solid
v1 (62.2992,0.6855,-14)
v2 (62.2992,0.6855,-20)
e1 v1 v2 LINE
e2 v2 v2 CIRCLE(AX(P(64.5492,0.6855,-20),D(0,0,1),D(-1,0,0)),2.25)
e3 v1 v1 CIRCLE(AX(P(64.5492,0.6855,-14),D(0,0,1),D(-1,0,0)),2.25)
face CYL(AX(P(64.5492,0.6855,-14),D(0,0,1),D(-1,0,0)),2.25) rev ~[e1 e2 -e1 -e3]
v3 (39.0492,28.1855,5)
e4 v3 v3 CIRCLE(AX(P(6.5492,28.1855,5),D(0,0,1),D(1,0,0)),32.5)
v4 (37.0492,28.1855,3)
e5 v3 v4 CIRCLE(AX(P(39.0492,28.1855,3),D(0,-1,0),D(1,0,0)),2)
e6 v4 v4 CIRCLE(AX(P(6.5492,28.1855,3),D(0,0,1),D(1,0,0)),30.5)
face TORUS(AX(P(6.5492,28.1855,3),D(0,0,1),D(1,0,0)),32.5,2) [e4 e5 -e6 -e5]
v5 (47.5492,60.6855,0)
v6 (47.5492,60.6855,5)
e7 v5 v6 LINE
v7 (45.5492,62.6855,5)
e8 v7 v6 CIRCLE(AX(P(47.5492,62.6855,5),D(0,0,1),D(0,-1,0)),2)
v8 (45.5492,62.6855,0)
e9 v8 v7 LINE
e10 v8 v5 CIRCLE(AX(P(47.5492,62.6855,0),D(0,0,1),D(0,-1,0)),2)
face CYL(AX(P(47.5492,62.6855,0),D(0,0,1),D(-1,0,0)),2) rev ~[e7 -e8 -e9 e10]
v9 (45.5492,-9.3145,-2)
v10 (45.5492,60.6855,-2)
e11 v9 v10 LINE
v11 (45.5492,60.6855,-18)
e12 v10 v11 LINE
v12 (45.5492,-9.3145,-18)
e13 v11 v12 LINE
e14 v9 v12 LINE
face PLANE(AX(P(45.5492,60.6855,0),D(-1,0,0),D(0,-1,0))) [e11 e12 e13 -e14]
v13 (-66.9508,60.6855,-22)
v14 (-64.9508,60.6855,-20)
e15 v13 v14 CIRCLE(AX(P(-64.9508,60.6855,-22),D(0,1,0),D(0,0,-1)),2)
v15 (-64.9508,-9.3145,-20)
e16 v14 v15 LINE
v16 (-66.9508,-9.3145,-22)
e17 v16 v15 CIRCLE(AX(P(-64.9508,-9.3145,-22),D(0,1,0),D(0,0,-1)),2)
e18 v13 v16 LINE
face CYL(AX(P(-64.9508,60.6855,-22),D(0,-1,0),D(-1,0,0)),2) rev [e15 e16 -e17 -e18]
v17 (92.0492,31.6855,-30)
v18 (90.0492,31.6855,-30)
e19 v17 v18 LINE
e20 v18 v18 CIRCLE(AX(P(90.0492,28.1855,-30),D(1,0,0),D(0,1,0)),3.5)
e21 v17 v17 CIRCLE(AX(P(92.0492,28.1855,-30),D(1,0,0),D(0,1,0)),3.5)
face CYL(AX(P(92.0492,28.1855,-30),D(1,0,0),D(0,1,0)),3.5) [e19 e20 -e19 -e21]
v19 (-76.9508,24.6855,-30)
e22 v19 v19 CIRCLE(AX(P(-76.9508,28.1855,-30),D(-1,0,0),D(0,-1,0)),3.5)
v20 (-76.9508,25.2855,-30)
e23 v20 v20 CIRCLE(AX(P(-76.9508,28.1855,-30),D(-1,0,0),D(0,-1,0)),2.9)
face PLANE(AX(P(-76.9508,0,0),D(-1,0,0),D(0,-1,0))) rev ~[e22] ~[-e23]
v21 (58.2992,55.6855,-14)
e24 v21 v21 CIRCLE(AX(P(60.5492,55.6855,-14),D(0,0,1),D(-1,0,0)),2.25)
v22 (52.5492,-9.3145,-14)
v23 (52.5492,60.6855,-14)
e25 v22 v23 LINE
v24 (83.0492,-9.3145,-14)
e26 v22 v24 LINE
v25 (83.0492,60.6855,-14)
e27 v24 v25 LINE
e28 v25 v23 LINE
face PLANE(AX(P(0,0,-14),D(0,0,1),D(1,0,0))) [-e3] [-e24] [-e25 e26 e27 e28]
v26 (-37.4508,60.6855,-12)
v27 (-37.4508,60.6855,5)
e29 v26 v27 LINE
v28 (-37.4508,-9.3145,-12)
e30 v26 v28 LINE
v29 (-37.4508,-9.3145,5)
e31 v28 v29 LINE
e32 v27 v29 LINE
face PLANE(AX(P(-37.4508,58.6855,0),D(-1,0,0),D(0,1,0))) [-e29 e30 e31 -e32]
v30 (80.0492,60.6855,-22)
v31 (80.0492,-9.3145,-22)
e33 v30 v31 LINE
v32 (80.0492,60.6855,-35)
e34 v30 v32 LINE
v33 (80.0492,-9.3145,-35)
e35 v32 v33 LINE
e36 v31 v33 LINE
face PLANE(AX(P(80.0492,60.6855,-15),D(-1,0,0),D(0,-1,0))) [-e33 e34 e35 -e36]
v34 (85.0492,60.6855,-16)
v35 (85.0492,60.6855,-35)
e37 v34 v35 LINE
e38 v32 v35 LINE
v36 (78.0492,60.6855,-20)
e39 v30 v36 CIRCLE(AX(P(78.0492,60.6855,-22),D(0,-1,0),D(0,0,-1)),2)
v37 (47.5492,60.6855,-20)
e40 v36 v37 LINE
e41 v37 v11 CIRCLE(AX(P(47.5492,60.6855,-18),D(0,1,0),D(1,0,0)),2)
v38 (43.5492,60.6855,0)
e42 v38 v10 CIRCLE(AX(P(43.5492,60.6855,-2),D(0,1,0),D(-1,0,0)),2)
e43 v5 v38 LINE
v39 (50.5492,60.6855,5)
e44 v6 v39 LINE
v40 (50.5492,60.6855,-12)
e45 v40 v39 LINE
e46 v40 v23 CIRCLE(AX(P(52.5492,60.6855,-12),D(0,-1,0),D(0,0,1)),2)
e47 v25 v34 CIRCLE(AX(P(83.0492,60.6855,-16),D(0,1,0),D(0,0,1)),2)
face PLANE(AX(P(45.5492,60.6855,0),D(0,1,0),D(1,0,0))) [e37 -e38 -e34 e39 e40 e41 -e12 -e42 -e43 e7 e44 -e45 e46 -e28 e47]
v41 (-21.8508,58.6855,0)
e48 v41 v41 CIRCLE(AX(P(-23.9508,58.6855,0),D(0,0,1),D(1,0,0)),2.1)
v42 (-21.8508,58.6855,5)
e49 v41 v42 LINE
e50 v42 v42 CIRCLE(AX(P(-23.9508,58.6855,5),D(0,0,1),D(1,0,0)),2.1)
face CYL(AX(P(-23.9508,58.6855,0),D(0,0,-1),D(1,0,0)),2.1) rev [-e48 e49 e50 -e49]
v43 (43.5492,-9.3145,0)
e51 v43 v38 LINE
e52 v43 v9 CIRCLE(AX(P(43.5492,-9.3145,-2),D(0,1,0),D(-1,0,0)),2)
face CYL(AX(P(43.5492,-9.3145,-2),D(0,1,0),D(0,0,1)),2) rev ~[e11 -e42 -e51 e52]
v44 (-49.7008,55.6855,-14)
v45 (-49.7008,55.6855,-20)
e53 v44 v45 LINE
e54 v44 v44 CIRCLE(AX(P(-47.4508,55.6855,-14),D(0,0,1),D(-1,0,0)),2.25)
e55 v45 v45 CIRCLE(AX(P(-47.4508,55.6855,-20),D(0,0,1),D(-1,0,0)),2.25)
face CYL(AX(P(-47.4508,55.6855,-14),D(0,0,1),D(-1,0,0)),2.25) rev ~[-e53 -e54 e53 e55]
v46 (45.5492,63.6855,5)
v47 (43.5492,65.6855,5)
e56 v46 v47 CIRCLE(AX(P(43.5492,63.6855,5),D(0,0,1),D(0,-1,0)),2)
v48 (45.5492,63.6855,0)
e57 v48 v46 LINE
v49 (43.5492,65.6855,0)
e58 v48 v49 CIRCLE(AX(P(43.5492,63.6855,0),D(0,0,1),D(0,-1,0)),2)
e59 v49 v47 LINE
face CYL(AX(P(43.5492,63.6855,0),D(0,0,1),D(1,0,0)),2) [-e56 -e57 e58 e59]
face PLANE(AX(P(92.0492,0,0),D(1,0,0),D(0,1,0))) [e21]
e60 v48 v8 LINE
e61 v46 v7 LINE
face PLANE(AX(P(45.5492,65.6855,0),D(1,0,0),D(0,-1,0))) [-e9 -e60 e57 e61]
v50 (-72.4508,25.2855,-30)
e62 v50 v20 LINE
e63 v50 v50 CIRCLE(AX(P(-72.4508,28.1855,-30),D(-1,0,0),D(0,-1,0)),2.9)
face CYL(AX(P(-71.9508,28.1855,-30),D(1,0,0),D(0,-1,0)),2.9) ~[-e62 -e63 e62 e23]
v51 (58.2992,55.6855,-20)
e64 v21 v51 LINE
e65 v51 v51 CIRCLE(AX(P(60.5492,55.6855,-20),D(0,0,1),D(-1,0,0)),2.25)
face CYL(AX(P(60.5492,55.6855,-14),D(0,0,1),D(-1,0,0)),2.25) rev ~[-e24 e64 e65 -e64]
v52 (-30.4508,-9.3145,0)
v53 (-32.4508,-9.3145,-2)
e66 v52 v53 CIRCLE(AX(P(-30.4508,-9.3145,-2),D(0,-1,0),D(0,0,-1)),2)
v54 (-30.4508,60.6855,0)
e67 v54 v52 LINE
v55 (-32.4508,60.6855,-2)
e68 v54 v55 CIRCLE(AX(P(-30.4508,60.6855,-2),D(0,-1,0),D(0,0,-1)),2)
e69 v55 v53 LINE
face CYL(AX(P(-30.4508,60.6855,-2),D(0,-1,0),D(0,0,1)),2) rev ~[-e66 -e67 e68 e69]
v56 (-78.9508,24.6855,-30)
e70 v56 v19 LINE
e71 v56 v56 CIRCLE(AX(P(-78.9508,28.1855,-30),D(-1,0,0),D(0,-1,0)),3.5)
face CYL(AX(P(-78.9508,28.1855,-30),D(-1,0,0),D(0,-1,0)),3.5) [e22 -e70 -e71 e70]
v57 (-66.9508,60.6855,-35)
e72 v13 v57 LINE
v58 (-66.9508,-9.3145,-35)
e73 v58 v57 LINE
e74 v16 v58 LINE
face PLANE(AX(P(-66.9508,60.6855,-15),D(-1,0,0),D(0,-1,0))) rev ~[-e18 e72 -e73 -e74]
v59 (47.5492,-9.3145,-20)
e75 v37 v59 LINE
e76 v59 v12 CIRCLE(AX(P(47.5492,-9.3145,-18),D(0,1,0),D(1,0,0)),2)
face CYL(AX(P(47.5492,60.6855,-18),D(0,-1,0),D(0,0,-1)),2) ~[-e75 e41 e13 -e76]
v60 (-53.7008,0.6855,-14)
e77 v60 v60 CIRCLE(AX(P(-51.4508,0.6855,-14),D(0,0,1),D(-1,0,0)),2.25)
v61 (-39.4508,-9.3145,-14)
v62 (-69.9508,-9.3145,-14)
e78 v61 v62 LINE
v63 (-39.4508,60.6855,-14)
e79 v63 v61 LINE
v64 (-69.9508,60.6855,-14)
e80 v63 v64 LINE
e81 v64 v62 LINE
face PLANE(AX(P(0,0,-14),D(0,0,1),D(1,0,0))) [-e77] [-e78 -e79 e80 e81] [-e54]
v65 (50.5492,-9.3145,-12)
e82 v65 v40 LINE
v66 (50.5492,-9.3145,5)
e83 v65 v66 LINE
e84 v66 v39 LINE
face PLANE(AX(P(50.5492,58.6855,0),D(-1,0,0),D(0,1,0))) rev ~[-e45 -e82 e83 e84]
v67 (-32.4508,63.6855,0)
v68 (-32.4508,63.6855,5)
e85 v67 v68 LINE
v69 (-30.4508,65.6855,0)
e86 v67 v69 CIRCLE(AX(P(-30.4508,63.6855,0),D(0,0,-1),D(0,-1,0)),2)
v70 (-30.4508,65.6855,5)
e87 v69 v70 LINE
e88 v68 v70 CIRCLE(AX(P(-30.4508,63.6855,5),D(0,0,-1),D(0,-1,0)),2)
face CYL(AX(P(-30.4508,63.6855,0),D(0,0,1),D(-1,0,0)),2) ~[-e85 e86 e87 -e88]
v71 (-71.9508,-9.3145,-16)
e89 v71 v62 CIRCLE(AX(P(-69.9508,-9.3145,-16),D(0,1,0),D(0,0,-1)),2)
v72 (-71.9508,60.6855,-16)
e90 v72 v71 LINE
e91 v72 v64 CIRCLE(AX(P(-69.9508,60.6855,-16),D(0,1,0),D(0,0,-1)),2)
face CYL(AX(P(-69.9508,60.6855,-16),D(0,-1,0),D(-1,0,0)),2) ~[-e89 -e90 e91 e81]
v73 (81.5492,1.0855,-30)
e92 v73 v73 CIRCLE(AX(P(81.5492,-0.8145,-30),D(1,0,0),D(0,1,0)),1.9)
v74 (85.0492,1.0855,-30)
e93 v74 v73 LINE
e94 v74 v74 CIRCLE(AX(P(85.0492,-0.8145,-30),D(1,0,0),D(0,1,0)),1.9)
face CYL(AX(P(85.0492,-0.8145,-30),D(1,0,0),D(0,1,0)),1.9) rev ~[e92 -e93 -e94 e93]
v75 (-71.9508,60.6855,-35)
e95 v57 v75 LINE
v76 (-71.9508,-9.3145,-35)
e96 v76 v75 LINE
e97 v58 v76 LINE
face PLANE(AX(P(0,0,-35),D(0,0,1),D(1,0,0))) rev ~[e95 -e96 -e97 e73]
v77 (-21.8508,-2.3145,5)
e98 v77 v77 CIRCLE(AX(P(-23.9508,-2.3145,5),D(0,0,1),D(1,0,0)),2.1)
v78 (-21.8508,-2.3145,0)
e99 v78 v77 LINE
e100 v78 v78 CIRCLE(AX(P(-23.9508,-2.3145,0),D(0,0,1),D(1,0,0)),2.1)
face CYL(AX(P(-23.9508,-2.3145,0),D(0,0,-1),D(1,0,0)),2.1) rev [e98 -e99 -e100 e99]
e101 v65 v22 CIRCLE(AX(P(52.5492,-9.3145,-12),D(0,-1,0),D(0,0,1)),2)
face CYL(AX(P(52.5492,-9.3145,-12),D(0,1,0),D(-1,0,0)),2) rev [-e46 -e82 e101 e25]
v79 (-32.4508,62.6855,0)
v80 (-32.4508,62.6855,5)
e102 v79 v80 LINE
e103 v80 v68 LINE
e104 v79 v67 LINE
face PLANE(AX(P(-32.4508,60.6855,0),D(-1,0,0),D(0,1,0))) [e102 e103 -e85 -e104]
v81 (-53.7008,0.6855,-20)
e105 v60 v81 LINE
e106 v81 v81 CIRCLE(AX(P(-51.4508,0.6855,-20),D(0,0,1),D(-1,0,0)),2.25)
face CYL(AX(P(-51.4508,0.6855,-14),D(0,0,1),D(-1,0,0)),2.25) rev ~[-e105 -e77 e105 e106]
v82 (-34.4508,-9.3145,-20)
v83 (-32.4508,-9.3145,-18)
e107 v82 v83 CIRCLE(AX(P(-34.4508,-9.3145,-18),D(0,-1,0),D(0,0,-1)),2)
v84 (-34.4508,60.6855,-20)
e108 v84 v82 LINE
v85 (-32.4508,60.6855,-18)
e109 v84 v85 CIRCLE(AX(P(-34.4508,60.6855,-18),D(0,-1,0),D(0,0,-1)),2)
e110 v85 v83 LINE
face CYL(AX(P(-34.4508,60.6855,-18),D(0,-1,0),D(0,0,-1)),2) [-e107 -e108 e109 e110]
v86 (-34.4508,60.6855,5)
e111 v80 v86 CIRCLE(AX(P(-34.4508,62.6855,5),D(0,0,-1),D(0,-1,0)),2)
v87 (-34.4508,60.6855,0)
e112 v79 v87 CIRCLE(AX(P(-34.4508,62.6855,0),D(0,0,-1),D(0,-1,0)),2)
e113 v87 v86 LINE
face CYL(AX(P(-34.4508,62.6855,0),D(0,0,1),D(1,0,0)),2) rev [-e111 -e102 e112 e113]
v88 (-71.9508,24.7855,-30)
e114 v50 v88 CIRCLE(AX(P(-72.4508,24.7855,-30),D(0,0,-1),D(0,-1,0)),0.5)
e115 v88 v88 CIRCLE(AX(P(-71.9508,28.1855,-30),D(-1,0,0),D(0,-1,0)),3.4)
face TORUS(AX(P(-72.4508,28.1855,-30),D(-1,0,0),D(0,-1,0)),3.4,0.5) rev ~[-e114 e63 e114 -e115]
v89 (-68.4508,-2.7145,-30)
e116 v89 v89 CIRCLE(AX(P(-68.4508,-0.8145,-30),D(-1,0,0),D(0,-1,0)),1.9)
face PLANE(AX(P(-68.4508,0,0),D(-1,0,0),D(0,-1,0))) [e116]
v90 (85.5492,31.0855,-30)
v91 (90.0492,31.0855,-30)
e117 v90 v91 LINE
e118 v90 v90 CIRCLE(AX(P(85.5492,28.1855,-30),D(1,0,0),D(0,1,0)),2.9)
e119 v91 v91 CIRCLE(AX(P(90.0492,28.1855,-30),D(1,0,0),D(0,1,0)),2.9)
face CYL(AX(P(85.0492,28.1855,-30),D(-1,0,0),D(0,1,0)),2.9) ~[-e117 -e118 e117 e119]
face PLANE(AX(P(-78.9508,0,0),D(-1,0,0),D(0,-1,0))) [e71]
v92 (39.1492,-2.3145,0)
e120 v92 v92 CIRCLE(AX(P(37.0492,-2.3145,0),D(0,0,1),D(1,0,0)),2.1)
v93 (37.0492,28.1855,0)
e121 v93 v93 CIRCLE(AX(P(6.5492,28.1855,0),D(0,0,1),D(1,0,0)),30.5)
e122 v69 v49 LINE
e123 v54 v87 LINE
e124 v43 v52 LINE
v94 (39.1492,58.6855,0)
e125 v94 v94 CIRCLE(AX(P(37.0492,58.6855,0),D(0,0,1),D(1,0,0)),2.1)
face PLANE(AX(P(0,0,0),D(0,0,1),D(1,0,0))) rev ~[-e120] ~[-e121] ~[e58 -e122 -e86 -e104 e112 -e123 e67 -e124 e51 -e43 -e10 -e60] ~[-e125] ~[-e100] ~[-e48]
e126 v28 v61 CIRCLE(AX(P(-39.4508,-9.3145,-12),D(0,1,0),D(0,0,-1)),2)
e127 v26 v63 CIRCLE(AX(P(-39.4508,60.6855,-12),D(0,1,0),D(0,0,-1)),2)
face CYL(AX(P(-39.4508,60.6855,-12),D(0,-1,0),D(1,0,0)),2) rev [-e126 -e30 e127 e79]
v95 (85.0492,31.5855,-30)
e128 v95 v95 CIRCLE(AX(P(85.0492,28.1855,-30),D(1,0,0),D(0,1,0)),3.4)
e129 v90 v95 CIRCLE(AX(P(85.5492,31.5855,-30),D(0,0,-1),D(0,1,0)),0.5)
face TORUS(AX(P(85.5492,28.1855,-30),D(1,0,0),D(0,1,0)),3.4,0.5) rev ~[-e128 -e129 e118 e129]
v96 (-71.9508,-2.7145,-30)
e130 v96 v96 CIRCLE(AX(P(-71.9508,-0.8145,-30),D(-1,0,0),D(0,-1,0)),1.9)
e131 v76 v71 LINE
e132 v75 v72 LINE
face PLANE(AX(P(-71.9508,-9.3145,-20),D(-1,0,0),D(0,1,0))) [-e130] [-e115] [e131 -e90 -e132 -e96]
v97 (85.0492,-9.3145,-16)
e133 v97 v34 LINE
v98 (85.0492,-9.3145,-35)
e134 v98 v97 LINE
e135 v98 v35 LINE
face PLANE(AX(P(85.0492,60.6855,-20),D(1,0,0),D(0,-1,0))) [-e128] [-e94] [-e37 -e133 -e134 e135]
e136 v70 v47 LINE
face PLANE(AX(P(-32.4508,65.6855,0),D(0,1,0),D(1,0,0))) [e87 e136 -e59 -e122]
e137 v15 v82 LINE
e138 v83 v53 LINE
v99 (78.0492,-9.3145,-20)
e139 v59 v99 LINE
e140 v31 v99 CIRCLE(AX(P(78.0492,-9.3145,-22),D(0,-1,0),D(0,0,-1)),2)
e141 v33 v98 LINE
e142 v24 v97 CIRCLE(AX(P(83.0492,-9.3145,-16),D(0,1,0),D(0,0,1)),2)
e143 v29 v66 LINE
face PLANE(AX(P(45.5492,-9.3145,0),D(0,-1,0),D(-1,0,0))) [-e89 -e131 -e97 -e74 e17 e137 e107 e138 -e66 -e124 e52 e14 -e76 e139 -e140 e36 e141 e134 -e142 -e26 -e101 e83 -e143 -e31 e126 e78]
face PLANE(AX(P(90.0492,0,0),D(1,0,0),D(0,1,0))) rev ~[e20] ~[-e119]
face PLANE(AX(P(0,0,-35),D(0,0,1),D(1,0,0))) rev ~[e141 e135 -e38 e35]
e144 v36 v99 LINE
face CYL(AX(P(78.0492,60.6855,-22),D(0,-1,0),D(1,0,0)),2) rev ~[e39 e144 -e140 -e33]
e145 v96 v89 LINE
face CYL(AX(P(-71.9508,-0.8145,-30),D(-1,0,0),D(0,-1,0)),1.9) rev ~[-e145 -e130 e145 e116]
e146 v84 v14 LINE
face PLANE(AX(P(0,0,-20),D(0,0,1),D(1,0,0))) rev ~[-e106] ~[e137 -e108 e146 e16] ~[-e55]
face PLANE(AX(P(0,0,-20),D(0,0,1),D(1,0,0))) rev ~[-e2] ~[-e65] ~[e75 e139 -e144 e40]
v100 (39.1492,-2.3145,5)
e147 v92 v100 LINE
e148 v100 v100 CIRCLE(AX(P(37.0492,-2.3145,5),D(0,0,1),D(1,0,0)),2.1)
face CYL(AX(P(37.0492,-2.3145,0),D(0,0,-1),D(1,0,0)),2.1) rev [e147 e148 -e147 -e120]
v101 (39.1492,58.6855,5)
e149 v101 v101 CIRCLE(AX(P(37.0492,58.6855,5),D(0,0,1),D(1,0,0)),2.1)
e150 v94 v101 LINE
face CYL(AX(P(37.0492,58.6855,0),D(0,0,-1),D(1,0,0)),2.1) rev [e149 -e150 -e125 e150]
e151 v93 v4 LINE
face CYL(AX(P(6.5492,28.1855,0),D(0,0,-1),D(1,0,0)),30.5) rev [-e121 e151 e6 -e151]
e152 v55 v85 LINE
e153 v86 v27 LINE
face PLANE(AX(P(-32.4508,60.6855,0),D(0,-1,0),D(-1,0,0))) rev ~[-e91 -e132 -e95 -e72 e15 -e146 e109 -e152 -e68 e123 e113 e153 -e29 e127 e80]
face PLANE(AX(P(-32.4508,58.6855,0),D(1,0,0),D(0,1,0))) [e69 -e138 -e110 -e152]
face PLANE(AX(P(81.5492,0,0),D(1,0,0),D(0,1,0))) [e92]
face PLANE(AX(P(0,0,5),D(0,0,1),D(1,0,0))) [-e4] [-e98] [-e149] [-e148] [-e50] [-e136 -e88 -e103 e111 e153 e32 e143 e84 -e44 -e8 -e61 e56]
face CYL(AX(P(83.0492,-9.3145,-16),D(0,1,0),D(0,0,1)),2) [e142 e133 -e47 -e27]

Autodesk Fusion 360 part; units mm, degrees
sketch "Schizzo1" plane through (0, 0, 0) normal (0, 0, 1) x (1, 0, 0)
  line L0 (-32.4508, 65.6855) -> (45.5492, 65.6855)
  line L1 (45.5492, 65.6855) -> (45.5492, -9.3145)
  line L2 (45.5492, -9.3145) -> (-32.4508, -9.3145)
  line L3 (-32.4508, -9.3145) -> (-32.4508, 65.6855)
  line L4 (-32.4508, 28.1855) -> (45.5492, 28.1855) construction
  line L5 (6.5492, 65.6855) -> (6.5492, -9.3145) construction
  circle A0 centre (6.5492, 28.1855) radius 30.5
  line L6 (37.0492, -2.3145) -> (-23.9508, -2.3145) construction
  line L7 (-23.9508, -2.3145) -> (-23.9508, 58.6855) construction
  line L8 (-23.9508, 58.6855) -> (37.0492, 58.6855) construction
  line L9 (37.0492, 58.6855) -> (37.0492, -2.3145) construction
  line L10 (37.0492, -2.3145) -> (-23.9508, 58.6855) construction
  line L11 (-23.9508, -2.3145) -> (37.0492, 58.6855) construction
  circle A1 centre (-23.9508, 58.6855) radius 2.1
  circle A2 centre (37.0492, 58.6855) radius 2.1
  circle A3 centre (37.0492, -2.3145) radius 2.1
  circle A4 centre (-23.9508, -2.3145) radius 2.1
  line L12 (-71.9508, 58.6855) -> (-66.9508, 58.6855)
  line L13 (-66.9508, 58.6855) -> (-66.9508, -2.3145)
  line L14 (-66.9508, -2.3145) -> (-71.9508, -2.3145)
  line L15 (-71.9508, -2.3145) -> (-71.9508, 58.6855)
  line L16 (85.0492, 58.6855) -> (80.0492, 58.6855)
  line L17 (85.0492, -2.3145) -> (85.0492, 58.6855)
  line L18 (80.0492, 58.6855) -> (80.0492, -2.3145)
  line L19 (80.0492, -2.3145) -> (85.0492, -2.3145)
  circle A5 centre (-23.9508, 58.6855) radius 3.6
  circle A6 centre (37.0492, 58.6855) radius 3.6
  circle A7 centre (-23.9508, -2.3145) radius 3.6
  circle A8 centre (37.0492, -2.3145) radius 3.6
  line L20 (-32.4508, -9.3145) -> (-71.9508, -9.3145)
  line L21 (-71.9508, -9.3145) -> (-71.9508, -2.3145)
  line L22 (45.5492, -9.3145) -> (85.0492, -9.3145)
  line L23 (85.0492, -9.3145) -> (85.0492, -2.3145)
  line L24 (-66.9508, -2.3145) -> (-66.9508, -9.3145)
  line L25 (80.0492, -2.3145) -> (80.0492, -9.3145)
  line L26 (-66.9508, 58.6855) -> (-32.4508, 58.6855)
  line L27 (80.0492, 58.6855) -> (45.5492, 58.6855)
  line L28 (-66.9508, 58.6855) -> (-32.4508, 58.6855)
  line L29 (-32.4508, 58.6855) -> (-32.4508, 60.6855)
  line L30 (-32.4508, 60.6855) -> (-66.9508, 60.6855)
  line L31 (-66.9508, 60.6855) -> (-66.9508, 58.6855)
  line L32 (80.0492, 60.6855) -> (80.0492, 58.6855)
  line L33 (45.5492, 60.6855) -> (80.0492, 60.6855)
  line L34 (80.0492, 58.6855) -> (45.5492, 58.6855)
  line L35 (45.5492, -9.3145) -> (45.5492, 65.6855)
  line L36 (-37.4508, -9.3145) -> (-37.4508, 60.6855)
  line L37 (50.5492, -9.3145) -> (50.5492, 60.6855)
  line L38 (-71.9508, 58.6855) -> (-66.9508, 58.6855)
  line L39 (-66.9508, 58.6855) -> (-66.9508, 60.6855)
  line L40 (-66.9508, 60.6855) -> (-71.9508, 60.6855)
  line L41 (-71.9508, 60.6855) -> (-71.9508, 58.6855)
  line L42 (85.0492, 60.6855) -> (85.0492, 58.6855)
  line L43 (80.0492, 60.6855) -> (85.0492, 60.6855)
  point P0 (6.5492, 28.1855)
  point P1 (-23.9508, -2.3145)
  dimension "d1" = 78
  dimension "d2" = 75
  dimension "d3" = 61
  dimension "d4" = 61
  dimension "d5" = 61
  dimension "d6" = 4.2
  dimension "d13" = 5
  dimension "d22" = 7.2
  dimension "d70" = 157
  dimension "d82" = 147
  dimension "d102" = 2
  dimension "d109" = 5
extrude "Estrusione1" add sketch "Schizzo1" along normal blind 5 contours L0 L1 L2 L3 L29 L35 | L3 L26 L28 L29 L30 L36 | L1 L27 L33 L34 L35 L37 | L3 L20 L26 L28 L36 | L1 L22 L27 L34 L35 L37 | A5 | A6 | A7 | A8
fillet "Raccordo22" radius 2 1 edges at (-21.8868, 39.2148, 5)
extrude "Estrusione14" add sketch "Schizzo1" against normal blind 20 contours L3 L26 L28 L29 L30 L36 | L1 L27 L33 L34 L35 L37 | L3 L20 L26 L28 L36 | L1 L22 L27 L34 L35 L37
fillet "Raccordo20" radius 2 2 edges at (-32.4508, 25.6855, 0) (45.5492, 25.6855, 0)
fillet "Raccordo17" radius 2 2 edges at (-32.4508, 65.6855, 2.5) (45.5492, 65.6855, 2.5)
fillet "Raccordo21" radius 2 2 edges at (45.5492, 60.6855, 2.5) (-32.4508, 60.6855, 2.5)
extrude "Estrusione15" add sketch "Schizzo1" along normal blind 6 from surface at -20 contours L3 L20 L26 L28 L36 | L26 L28 L30 L31 L36 L39 | L1 L22 L27 L34 L35 L37 | L27 L32 L33 L34 L37 | L13 L20 L24 L26 L28 L36 | L12 L31 L38 L39 L40 L41 | L18 L22 L25 L27 L34 L37 | L16 L32 L42 L43 | L12 L13 L14 L15 L38 | L16 L17 L18 L19 | L14 L20 L21 L24 | L19 L22 L23 L25
fillet "Raccordo14" radius 2 2 edges at (50.5492, 25.6855, -14) (-37.4508, 25.6855, -14)
fillet "Raccordo18" radius 2 2 edges at (45.5492, 25.6855, -20) (-32.4508, 25.6855, -20)
extrude "Estrusione2" add sketch "Schizzo1" against normal blind 20 from surface at -15 contours L12 L31 L38 L39 L40 L41 | L16 L32 L42 L43 | L12 L13 L14 L15 L38 | L16 L17 L18 L19 | L14 L20 L21 L24 | L19 L22 L23 L25
fillet "Raccordo23" radius 2 2 edges at (-71.9508, 25.6855, -14) (85.0492, 25.6855, -14)
fillet "Raccordo24" radius 2 2 edges at (-66.9508, 25.6855, -20) (80.0492, 25.6855, -20)
sketch "Schizzo2" plane through (-71.9508, 0, 0) normal (-1, 0, 0) x (0, -1, 0)
  line L0 (-60.6855, -35) -> (9.3145, -35)
  circle A0 centre (-28.1855, -30) radius 2.9
  circle A1 centre (-28.1855, -30) radius 3.5
  line L1 (9.3145, -35) -> (9.3145, -16)
  circle A2 centre (0.8145, -30) radius 1.9
  line L2 (-58.6855, -15) -> (9.3145, -15) construction
  line L3 (9.3145, -15) -> (9.3145, -35) construction
  line L4 (9.3145, -35) -> (-58.6855, -35) construction
  line L5 (-58.6855, -35) -> (-58.6855, -15) construction
  line L6 (-58.6855, -30) -> (9.3145, -30) construction
  line L7 (9.3145, -16) -> (-60.6855, -16)
  line L8 (-60.6855, -16) -> (-60.6855, -35)
  dimension "d27" = 5.8
  dimension "d28" = 7
  dimension "d56" = 3.8
  dimension "d94" = 5
  dimension "d95" = 30.5
  dimension "d96" = 29
extrude "Estrusione4" add sketch "Schizzo2" along normal blind 7 contours A0
extrude "Estrusione5" add sketch "Schizzo2" against normal blind 2 from surface at 7 contours A1
fillet "Raccordo4" radius 0.5 1 edges at (-71.9508, 30.8893, -28.9513)
extrude "Estrusione10" cut sketch "Schizzo2" against normal blind 3.5 contours A2
sketch "Schizzo3" plane through (85.0492, 0, 0) normal (1, 0, 0) x (0, 1, 0)
  line L0 (-9.3145, -35) -> (60.6855, -35)
  circle A0 centre (28.1855, -30) radius 2.9
  circle A1 centre (28.1855, -30) radius 3.5
  circle A2 centre (-0.8145, -30) radius 1.9
  line L1 (-9.3145, -16) -> (-9.3145, -35)
  line L2 (58.6855, -35) -> (-9.3145, -35) construction
  line L3 (-9.3145, -35) -> (-9.3145, -15) construction
  line L4 (-9.3145, -15) -> (58.6855, -15) construction
  line L5 (58.6855, -15) -> (58.6855, -35) construction
  line L6 (-9.3145, -30) -> (58.6855, -30) construction
  line L7 (60.6855, -16) -> (-9.3145, -16)
  line L8 (60.6855, -35) -> (60.6855, -16)
  dimension "d36" = 5.8
  dimension "d37" = 7
  dimension "d49" = 3.8
  dimension "d97" = 5
  dimension "d98" = 29
  dimension "d99" = 30.5
extrude "Estrusione6" add sketch "Schizzo3" along normal blind 7 contours A0
extrude "Estrusione7" add sketch "Schizzo3" against normal blind 2 from surface at 7 contours A1
fillet "Raccordo5" radius 0.5 1 edges at (85.0492, 25.4818, -28.9513)
extrude "Estrusione11" cut sketch "Schizzo3" against normal blind 3.5 contours A2
sketch "Schizzo4" plane through (0, 0, 5) normal (0, 0, 1) x (-1, 0, 0)
  line L0 (37.4508, 9.3145) -> (-50.5492, 9.3145)
  line L1 (-43.5492, -65.6855) -> (30.4508, -65.6855)
  circle A0 centre (23.9508, 2.3145) radius 2.1
  circle A1 centre (-37.0492, -58.6855) radius 2.1
  circle A2 centre (23.9508, -58.6855) radius 2.1
  circle A3 centre (-37.0492, 2.3145) radius 2.1
  line L2 (65.9508, -65.6855) -> (-79.0492, -65.6855) construction
  line L3 (-79.0492, -65.6855) -> (-79.0492, 9.3145) construction
  line L4 (-79.0492, 9.3145) -> (65.9508, 9.3145) construction
  line L5 (65.9508, 9.3145) -> (65.9508, -65.6855) construction
  line L6 (-6.5492, -65.6855) -> (-6.5492, 9.3145) construction
  line L7 (-6.5492, -28.1855) -> (65.9508, -28.1855) construction
  line L8 (-6.5492, -28.1855) -> (-79.0492, -28.1855) construction
  line L9 (65.9508, -55.6855) -> (-79.0492, -55.6855) construction
  line L10 (65.9508, -0.6855) -> (-79.0492, -0.6855) construction
  circle A4 centre (47.4508, -55.6855) radius 2.25
  circle A5 centre (47.4508, -55.6855) radius 3.75
  circle A6 centre (51.4508, -0.6855) radius 2.25
  circle A7 centre (51.4508, -0.6855) radius 3.75
  circle A8 centre (-60.5492, -55.6855) radius 2.25
  circle A9 centre (-60.5492, -55.6855) radius 3.75
  circle A10 centre (-64.5492, -0.6855) radius 3.75
  circle A11 centre (-64.5492, -0.6855) radius 2.25
  line L11 (-45.5492, -62.6855) -> (-45.5492, -63.6855)
  line L12 (32.4508, -63.6855) -> (32.4508, -62.6855)
  line L13 (-50.5492, 9.3145) -> (-50.5492, -60.6855)
  line L14 (37.4508, -60.6855) -> (37.4508, 9.3145)
  arc A12 (-45.5492, -63.6855) -> (-43.5492, -65.6855) centre (-43.5492, -63.6855) ccw
  arc A13 (30.4508, -65.6855) -> (32.4508, -63.6855) centre (30.4508, -63.6855) ccw
  circle A14 centre (-6.5492, -28.1855) radius 32.5
  arc A15 (34.4508, -60.6855) -> (32.4508, -62.6855) centre (34.4508, -62.6855) ccw
  line L15 (34.4508, -60.6855) -> (37.4508, -60.6855)
  line L16 (-50.5492, -60.6855) -> (-47.5492, -60.6855)
  arc A16 (-45.5492, -62.6855) -> (-47.5492, -60.6855) centre (-47.5492, -62.6855) ccw
  point P0 (47.4508, -55.6855)
  point P1 (51.4508, -0.6855)
  point P2 (-60.5492, -55.6855)
  point P3 (-64.5492, -0.6855)
  dimension "d79" = 55
  dimension "d80" = 108
  dimension "d81" = 116
  dimension "d83" = 4.5
  dimension "d84" = 7.5
  dimension "d85" = 4.5
  dimension "d86" = 7.5
extrude "Estrusione12" cut sketch "Schizzo4" against normal blind 6 from surface at -19 contours A4 | A6 | A8 | A11
equation "d1 = 75 mm + 0.2 mm + 2.8 mm"
equation "d85 = d83"
equation "d86 = d84"
